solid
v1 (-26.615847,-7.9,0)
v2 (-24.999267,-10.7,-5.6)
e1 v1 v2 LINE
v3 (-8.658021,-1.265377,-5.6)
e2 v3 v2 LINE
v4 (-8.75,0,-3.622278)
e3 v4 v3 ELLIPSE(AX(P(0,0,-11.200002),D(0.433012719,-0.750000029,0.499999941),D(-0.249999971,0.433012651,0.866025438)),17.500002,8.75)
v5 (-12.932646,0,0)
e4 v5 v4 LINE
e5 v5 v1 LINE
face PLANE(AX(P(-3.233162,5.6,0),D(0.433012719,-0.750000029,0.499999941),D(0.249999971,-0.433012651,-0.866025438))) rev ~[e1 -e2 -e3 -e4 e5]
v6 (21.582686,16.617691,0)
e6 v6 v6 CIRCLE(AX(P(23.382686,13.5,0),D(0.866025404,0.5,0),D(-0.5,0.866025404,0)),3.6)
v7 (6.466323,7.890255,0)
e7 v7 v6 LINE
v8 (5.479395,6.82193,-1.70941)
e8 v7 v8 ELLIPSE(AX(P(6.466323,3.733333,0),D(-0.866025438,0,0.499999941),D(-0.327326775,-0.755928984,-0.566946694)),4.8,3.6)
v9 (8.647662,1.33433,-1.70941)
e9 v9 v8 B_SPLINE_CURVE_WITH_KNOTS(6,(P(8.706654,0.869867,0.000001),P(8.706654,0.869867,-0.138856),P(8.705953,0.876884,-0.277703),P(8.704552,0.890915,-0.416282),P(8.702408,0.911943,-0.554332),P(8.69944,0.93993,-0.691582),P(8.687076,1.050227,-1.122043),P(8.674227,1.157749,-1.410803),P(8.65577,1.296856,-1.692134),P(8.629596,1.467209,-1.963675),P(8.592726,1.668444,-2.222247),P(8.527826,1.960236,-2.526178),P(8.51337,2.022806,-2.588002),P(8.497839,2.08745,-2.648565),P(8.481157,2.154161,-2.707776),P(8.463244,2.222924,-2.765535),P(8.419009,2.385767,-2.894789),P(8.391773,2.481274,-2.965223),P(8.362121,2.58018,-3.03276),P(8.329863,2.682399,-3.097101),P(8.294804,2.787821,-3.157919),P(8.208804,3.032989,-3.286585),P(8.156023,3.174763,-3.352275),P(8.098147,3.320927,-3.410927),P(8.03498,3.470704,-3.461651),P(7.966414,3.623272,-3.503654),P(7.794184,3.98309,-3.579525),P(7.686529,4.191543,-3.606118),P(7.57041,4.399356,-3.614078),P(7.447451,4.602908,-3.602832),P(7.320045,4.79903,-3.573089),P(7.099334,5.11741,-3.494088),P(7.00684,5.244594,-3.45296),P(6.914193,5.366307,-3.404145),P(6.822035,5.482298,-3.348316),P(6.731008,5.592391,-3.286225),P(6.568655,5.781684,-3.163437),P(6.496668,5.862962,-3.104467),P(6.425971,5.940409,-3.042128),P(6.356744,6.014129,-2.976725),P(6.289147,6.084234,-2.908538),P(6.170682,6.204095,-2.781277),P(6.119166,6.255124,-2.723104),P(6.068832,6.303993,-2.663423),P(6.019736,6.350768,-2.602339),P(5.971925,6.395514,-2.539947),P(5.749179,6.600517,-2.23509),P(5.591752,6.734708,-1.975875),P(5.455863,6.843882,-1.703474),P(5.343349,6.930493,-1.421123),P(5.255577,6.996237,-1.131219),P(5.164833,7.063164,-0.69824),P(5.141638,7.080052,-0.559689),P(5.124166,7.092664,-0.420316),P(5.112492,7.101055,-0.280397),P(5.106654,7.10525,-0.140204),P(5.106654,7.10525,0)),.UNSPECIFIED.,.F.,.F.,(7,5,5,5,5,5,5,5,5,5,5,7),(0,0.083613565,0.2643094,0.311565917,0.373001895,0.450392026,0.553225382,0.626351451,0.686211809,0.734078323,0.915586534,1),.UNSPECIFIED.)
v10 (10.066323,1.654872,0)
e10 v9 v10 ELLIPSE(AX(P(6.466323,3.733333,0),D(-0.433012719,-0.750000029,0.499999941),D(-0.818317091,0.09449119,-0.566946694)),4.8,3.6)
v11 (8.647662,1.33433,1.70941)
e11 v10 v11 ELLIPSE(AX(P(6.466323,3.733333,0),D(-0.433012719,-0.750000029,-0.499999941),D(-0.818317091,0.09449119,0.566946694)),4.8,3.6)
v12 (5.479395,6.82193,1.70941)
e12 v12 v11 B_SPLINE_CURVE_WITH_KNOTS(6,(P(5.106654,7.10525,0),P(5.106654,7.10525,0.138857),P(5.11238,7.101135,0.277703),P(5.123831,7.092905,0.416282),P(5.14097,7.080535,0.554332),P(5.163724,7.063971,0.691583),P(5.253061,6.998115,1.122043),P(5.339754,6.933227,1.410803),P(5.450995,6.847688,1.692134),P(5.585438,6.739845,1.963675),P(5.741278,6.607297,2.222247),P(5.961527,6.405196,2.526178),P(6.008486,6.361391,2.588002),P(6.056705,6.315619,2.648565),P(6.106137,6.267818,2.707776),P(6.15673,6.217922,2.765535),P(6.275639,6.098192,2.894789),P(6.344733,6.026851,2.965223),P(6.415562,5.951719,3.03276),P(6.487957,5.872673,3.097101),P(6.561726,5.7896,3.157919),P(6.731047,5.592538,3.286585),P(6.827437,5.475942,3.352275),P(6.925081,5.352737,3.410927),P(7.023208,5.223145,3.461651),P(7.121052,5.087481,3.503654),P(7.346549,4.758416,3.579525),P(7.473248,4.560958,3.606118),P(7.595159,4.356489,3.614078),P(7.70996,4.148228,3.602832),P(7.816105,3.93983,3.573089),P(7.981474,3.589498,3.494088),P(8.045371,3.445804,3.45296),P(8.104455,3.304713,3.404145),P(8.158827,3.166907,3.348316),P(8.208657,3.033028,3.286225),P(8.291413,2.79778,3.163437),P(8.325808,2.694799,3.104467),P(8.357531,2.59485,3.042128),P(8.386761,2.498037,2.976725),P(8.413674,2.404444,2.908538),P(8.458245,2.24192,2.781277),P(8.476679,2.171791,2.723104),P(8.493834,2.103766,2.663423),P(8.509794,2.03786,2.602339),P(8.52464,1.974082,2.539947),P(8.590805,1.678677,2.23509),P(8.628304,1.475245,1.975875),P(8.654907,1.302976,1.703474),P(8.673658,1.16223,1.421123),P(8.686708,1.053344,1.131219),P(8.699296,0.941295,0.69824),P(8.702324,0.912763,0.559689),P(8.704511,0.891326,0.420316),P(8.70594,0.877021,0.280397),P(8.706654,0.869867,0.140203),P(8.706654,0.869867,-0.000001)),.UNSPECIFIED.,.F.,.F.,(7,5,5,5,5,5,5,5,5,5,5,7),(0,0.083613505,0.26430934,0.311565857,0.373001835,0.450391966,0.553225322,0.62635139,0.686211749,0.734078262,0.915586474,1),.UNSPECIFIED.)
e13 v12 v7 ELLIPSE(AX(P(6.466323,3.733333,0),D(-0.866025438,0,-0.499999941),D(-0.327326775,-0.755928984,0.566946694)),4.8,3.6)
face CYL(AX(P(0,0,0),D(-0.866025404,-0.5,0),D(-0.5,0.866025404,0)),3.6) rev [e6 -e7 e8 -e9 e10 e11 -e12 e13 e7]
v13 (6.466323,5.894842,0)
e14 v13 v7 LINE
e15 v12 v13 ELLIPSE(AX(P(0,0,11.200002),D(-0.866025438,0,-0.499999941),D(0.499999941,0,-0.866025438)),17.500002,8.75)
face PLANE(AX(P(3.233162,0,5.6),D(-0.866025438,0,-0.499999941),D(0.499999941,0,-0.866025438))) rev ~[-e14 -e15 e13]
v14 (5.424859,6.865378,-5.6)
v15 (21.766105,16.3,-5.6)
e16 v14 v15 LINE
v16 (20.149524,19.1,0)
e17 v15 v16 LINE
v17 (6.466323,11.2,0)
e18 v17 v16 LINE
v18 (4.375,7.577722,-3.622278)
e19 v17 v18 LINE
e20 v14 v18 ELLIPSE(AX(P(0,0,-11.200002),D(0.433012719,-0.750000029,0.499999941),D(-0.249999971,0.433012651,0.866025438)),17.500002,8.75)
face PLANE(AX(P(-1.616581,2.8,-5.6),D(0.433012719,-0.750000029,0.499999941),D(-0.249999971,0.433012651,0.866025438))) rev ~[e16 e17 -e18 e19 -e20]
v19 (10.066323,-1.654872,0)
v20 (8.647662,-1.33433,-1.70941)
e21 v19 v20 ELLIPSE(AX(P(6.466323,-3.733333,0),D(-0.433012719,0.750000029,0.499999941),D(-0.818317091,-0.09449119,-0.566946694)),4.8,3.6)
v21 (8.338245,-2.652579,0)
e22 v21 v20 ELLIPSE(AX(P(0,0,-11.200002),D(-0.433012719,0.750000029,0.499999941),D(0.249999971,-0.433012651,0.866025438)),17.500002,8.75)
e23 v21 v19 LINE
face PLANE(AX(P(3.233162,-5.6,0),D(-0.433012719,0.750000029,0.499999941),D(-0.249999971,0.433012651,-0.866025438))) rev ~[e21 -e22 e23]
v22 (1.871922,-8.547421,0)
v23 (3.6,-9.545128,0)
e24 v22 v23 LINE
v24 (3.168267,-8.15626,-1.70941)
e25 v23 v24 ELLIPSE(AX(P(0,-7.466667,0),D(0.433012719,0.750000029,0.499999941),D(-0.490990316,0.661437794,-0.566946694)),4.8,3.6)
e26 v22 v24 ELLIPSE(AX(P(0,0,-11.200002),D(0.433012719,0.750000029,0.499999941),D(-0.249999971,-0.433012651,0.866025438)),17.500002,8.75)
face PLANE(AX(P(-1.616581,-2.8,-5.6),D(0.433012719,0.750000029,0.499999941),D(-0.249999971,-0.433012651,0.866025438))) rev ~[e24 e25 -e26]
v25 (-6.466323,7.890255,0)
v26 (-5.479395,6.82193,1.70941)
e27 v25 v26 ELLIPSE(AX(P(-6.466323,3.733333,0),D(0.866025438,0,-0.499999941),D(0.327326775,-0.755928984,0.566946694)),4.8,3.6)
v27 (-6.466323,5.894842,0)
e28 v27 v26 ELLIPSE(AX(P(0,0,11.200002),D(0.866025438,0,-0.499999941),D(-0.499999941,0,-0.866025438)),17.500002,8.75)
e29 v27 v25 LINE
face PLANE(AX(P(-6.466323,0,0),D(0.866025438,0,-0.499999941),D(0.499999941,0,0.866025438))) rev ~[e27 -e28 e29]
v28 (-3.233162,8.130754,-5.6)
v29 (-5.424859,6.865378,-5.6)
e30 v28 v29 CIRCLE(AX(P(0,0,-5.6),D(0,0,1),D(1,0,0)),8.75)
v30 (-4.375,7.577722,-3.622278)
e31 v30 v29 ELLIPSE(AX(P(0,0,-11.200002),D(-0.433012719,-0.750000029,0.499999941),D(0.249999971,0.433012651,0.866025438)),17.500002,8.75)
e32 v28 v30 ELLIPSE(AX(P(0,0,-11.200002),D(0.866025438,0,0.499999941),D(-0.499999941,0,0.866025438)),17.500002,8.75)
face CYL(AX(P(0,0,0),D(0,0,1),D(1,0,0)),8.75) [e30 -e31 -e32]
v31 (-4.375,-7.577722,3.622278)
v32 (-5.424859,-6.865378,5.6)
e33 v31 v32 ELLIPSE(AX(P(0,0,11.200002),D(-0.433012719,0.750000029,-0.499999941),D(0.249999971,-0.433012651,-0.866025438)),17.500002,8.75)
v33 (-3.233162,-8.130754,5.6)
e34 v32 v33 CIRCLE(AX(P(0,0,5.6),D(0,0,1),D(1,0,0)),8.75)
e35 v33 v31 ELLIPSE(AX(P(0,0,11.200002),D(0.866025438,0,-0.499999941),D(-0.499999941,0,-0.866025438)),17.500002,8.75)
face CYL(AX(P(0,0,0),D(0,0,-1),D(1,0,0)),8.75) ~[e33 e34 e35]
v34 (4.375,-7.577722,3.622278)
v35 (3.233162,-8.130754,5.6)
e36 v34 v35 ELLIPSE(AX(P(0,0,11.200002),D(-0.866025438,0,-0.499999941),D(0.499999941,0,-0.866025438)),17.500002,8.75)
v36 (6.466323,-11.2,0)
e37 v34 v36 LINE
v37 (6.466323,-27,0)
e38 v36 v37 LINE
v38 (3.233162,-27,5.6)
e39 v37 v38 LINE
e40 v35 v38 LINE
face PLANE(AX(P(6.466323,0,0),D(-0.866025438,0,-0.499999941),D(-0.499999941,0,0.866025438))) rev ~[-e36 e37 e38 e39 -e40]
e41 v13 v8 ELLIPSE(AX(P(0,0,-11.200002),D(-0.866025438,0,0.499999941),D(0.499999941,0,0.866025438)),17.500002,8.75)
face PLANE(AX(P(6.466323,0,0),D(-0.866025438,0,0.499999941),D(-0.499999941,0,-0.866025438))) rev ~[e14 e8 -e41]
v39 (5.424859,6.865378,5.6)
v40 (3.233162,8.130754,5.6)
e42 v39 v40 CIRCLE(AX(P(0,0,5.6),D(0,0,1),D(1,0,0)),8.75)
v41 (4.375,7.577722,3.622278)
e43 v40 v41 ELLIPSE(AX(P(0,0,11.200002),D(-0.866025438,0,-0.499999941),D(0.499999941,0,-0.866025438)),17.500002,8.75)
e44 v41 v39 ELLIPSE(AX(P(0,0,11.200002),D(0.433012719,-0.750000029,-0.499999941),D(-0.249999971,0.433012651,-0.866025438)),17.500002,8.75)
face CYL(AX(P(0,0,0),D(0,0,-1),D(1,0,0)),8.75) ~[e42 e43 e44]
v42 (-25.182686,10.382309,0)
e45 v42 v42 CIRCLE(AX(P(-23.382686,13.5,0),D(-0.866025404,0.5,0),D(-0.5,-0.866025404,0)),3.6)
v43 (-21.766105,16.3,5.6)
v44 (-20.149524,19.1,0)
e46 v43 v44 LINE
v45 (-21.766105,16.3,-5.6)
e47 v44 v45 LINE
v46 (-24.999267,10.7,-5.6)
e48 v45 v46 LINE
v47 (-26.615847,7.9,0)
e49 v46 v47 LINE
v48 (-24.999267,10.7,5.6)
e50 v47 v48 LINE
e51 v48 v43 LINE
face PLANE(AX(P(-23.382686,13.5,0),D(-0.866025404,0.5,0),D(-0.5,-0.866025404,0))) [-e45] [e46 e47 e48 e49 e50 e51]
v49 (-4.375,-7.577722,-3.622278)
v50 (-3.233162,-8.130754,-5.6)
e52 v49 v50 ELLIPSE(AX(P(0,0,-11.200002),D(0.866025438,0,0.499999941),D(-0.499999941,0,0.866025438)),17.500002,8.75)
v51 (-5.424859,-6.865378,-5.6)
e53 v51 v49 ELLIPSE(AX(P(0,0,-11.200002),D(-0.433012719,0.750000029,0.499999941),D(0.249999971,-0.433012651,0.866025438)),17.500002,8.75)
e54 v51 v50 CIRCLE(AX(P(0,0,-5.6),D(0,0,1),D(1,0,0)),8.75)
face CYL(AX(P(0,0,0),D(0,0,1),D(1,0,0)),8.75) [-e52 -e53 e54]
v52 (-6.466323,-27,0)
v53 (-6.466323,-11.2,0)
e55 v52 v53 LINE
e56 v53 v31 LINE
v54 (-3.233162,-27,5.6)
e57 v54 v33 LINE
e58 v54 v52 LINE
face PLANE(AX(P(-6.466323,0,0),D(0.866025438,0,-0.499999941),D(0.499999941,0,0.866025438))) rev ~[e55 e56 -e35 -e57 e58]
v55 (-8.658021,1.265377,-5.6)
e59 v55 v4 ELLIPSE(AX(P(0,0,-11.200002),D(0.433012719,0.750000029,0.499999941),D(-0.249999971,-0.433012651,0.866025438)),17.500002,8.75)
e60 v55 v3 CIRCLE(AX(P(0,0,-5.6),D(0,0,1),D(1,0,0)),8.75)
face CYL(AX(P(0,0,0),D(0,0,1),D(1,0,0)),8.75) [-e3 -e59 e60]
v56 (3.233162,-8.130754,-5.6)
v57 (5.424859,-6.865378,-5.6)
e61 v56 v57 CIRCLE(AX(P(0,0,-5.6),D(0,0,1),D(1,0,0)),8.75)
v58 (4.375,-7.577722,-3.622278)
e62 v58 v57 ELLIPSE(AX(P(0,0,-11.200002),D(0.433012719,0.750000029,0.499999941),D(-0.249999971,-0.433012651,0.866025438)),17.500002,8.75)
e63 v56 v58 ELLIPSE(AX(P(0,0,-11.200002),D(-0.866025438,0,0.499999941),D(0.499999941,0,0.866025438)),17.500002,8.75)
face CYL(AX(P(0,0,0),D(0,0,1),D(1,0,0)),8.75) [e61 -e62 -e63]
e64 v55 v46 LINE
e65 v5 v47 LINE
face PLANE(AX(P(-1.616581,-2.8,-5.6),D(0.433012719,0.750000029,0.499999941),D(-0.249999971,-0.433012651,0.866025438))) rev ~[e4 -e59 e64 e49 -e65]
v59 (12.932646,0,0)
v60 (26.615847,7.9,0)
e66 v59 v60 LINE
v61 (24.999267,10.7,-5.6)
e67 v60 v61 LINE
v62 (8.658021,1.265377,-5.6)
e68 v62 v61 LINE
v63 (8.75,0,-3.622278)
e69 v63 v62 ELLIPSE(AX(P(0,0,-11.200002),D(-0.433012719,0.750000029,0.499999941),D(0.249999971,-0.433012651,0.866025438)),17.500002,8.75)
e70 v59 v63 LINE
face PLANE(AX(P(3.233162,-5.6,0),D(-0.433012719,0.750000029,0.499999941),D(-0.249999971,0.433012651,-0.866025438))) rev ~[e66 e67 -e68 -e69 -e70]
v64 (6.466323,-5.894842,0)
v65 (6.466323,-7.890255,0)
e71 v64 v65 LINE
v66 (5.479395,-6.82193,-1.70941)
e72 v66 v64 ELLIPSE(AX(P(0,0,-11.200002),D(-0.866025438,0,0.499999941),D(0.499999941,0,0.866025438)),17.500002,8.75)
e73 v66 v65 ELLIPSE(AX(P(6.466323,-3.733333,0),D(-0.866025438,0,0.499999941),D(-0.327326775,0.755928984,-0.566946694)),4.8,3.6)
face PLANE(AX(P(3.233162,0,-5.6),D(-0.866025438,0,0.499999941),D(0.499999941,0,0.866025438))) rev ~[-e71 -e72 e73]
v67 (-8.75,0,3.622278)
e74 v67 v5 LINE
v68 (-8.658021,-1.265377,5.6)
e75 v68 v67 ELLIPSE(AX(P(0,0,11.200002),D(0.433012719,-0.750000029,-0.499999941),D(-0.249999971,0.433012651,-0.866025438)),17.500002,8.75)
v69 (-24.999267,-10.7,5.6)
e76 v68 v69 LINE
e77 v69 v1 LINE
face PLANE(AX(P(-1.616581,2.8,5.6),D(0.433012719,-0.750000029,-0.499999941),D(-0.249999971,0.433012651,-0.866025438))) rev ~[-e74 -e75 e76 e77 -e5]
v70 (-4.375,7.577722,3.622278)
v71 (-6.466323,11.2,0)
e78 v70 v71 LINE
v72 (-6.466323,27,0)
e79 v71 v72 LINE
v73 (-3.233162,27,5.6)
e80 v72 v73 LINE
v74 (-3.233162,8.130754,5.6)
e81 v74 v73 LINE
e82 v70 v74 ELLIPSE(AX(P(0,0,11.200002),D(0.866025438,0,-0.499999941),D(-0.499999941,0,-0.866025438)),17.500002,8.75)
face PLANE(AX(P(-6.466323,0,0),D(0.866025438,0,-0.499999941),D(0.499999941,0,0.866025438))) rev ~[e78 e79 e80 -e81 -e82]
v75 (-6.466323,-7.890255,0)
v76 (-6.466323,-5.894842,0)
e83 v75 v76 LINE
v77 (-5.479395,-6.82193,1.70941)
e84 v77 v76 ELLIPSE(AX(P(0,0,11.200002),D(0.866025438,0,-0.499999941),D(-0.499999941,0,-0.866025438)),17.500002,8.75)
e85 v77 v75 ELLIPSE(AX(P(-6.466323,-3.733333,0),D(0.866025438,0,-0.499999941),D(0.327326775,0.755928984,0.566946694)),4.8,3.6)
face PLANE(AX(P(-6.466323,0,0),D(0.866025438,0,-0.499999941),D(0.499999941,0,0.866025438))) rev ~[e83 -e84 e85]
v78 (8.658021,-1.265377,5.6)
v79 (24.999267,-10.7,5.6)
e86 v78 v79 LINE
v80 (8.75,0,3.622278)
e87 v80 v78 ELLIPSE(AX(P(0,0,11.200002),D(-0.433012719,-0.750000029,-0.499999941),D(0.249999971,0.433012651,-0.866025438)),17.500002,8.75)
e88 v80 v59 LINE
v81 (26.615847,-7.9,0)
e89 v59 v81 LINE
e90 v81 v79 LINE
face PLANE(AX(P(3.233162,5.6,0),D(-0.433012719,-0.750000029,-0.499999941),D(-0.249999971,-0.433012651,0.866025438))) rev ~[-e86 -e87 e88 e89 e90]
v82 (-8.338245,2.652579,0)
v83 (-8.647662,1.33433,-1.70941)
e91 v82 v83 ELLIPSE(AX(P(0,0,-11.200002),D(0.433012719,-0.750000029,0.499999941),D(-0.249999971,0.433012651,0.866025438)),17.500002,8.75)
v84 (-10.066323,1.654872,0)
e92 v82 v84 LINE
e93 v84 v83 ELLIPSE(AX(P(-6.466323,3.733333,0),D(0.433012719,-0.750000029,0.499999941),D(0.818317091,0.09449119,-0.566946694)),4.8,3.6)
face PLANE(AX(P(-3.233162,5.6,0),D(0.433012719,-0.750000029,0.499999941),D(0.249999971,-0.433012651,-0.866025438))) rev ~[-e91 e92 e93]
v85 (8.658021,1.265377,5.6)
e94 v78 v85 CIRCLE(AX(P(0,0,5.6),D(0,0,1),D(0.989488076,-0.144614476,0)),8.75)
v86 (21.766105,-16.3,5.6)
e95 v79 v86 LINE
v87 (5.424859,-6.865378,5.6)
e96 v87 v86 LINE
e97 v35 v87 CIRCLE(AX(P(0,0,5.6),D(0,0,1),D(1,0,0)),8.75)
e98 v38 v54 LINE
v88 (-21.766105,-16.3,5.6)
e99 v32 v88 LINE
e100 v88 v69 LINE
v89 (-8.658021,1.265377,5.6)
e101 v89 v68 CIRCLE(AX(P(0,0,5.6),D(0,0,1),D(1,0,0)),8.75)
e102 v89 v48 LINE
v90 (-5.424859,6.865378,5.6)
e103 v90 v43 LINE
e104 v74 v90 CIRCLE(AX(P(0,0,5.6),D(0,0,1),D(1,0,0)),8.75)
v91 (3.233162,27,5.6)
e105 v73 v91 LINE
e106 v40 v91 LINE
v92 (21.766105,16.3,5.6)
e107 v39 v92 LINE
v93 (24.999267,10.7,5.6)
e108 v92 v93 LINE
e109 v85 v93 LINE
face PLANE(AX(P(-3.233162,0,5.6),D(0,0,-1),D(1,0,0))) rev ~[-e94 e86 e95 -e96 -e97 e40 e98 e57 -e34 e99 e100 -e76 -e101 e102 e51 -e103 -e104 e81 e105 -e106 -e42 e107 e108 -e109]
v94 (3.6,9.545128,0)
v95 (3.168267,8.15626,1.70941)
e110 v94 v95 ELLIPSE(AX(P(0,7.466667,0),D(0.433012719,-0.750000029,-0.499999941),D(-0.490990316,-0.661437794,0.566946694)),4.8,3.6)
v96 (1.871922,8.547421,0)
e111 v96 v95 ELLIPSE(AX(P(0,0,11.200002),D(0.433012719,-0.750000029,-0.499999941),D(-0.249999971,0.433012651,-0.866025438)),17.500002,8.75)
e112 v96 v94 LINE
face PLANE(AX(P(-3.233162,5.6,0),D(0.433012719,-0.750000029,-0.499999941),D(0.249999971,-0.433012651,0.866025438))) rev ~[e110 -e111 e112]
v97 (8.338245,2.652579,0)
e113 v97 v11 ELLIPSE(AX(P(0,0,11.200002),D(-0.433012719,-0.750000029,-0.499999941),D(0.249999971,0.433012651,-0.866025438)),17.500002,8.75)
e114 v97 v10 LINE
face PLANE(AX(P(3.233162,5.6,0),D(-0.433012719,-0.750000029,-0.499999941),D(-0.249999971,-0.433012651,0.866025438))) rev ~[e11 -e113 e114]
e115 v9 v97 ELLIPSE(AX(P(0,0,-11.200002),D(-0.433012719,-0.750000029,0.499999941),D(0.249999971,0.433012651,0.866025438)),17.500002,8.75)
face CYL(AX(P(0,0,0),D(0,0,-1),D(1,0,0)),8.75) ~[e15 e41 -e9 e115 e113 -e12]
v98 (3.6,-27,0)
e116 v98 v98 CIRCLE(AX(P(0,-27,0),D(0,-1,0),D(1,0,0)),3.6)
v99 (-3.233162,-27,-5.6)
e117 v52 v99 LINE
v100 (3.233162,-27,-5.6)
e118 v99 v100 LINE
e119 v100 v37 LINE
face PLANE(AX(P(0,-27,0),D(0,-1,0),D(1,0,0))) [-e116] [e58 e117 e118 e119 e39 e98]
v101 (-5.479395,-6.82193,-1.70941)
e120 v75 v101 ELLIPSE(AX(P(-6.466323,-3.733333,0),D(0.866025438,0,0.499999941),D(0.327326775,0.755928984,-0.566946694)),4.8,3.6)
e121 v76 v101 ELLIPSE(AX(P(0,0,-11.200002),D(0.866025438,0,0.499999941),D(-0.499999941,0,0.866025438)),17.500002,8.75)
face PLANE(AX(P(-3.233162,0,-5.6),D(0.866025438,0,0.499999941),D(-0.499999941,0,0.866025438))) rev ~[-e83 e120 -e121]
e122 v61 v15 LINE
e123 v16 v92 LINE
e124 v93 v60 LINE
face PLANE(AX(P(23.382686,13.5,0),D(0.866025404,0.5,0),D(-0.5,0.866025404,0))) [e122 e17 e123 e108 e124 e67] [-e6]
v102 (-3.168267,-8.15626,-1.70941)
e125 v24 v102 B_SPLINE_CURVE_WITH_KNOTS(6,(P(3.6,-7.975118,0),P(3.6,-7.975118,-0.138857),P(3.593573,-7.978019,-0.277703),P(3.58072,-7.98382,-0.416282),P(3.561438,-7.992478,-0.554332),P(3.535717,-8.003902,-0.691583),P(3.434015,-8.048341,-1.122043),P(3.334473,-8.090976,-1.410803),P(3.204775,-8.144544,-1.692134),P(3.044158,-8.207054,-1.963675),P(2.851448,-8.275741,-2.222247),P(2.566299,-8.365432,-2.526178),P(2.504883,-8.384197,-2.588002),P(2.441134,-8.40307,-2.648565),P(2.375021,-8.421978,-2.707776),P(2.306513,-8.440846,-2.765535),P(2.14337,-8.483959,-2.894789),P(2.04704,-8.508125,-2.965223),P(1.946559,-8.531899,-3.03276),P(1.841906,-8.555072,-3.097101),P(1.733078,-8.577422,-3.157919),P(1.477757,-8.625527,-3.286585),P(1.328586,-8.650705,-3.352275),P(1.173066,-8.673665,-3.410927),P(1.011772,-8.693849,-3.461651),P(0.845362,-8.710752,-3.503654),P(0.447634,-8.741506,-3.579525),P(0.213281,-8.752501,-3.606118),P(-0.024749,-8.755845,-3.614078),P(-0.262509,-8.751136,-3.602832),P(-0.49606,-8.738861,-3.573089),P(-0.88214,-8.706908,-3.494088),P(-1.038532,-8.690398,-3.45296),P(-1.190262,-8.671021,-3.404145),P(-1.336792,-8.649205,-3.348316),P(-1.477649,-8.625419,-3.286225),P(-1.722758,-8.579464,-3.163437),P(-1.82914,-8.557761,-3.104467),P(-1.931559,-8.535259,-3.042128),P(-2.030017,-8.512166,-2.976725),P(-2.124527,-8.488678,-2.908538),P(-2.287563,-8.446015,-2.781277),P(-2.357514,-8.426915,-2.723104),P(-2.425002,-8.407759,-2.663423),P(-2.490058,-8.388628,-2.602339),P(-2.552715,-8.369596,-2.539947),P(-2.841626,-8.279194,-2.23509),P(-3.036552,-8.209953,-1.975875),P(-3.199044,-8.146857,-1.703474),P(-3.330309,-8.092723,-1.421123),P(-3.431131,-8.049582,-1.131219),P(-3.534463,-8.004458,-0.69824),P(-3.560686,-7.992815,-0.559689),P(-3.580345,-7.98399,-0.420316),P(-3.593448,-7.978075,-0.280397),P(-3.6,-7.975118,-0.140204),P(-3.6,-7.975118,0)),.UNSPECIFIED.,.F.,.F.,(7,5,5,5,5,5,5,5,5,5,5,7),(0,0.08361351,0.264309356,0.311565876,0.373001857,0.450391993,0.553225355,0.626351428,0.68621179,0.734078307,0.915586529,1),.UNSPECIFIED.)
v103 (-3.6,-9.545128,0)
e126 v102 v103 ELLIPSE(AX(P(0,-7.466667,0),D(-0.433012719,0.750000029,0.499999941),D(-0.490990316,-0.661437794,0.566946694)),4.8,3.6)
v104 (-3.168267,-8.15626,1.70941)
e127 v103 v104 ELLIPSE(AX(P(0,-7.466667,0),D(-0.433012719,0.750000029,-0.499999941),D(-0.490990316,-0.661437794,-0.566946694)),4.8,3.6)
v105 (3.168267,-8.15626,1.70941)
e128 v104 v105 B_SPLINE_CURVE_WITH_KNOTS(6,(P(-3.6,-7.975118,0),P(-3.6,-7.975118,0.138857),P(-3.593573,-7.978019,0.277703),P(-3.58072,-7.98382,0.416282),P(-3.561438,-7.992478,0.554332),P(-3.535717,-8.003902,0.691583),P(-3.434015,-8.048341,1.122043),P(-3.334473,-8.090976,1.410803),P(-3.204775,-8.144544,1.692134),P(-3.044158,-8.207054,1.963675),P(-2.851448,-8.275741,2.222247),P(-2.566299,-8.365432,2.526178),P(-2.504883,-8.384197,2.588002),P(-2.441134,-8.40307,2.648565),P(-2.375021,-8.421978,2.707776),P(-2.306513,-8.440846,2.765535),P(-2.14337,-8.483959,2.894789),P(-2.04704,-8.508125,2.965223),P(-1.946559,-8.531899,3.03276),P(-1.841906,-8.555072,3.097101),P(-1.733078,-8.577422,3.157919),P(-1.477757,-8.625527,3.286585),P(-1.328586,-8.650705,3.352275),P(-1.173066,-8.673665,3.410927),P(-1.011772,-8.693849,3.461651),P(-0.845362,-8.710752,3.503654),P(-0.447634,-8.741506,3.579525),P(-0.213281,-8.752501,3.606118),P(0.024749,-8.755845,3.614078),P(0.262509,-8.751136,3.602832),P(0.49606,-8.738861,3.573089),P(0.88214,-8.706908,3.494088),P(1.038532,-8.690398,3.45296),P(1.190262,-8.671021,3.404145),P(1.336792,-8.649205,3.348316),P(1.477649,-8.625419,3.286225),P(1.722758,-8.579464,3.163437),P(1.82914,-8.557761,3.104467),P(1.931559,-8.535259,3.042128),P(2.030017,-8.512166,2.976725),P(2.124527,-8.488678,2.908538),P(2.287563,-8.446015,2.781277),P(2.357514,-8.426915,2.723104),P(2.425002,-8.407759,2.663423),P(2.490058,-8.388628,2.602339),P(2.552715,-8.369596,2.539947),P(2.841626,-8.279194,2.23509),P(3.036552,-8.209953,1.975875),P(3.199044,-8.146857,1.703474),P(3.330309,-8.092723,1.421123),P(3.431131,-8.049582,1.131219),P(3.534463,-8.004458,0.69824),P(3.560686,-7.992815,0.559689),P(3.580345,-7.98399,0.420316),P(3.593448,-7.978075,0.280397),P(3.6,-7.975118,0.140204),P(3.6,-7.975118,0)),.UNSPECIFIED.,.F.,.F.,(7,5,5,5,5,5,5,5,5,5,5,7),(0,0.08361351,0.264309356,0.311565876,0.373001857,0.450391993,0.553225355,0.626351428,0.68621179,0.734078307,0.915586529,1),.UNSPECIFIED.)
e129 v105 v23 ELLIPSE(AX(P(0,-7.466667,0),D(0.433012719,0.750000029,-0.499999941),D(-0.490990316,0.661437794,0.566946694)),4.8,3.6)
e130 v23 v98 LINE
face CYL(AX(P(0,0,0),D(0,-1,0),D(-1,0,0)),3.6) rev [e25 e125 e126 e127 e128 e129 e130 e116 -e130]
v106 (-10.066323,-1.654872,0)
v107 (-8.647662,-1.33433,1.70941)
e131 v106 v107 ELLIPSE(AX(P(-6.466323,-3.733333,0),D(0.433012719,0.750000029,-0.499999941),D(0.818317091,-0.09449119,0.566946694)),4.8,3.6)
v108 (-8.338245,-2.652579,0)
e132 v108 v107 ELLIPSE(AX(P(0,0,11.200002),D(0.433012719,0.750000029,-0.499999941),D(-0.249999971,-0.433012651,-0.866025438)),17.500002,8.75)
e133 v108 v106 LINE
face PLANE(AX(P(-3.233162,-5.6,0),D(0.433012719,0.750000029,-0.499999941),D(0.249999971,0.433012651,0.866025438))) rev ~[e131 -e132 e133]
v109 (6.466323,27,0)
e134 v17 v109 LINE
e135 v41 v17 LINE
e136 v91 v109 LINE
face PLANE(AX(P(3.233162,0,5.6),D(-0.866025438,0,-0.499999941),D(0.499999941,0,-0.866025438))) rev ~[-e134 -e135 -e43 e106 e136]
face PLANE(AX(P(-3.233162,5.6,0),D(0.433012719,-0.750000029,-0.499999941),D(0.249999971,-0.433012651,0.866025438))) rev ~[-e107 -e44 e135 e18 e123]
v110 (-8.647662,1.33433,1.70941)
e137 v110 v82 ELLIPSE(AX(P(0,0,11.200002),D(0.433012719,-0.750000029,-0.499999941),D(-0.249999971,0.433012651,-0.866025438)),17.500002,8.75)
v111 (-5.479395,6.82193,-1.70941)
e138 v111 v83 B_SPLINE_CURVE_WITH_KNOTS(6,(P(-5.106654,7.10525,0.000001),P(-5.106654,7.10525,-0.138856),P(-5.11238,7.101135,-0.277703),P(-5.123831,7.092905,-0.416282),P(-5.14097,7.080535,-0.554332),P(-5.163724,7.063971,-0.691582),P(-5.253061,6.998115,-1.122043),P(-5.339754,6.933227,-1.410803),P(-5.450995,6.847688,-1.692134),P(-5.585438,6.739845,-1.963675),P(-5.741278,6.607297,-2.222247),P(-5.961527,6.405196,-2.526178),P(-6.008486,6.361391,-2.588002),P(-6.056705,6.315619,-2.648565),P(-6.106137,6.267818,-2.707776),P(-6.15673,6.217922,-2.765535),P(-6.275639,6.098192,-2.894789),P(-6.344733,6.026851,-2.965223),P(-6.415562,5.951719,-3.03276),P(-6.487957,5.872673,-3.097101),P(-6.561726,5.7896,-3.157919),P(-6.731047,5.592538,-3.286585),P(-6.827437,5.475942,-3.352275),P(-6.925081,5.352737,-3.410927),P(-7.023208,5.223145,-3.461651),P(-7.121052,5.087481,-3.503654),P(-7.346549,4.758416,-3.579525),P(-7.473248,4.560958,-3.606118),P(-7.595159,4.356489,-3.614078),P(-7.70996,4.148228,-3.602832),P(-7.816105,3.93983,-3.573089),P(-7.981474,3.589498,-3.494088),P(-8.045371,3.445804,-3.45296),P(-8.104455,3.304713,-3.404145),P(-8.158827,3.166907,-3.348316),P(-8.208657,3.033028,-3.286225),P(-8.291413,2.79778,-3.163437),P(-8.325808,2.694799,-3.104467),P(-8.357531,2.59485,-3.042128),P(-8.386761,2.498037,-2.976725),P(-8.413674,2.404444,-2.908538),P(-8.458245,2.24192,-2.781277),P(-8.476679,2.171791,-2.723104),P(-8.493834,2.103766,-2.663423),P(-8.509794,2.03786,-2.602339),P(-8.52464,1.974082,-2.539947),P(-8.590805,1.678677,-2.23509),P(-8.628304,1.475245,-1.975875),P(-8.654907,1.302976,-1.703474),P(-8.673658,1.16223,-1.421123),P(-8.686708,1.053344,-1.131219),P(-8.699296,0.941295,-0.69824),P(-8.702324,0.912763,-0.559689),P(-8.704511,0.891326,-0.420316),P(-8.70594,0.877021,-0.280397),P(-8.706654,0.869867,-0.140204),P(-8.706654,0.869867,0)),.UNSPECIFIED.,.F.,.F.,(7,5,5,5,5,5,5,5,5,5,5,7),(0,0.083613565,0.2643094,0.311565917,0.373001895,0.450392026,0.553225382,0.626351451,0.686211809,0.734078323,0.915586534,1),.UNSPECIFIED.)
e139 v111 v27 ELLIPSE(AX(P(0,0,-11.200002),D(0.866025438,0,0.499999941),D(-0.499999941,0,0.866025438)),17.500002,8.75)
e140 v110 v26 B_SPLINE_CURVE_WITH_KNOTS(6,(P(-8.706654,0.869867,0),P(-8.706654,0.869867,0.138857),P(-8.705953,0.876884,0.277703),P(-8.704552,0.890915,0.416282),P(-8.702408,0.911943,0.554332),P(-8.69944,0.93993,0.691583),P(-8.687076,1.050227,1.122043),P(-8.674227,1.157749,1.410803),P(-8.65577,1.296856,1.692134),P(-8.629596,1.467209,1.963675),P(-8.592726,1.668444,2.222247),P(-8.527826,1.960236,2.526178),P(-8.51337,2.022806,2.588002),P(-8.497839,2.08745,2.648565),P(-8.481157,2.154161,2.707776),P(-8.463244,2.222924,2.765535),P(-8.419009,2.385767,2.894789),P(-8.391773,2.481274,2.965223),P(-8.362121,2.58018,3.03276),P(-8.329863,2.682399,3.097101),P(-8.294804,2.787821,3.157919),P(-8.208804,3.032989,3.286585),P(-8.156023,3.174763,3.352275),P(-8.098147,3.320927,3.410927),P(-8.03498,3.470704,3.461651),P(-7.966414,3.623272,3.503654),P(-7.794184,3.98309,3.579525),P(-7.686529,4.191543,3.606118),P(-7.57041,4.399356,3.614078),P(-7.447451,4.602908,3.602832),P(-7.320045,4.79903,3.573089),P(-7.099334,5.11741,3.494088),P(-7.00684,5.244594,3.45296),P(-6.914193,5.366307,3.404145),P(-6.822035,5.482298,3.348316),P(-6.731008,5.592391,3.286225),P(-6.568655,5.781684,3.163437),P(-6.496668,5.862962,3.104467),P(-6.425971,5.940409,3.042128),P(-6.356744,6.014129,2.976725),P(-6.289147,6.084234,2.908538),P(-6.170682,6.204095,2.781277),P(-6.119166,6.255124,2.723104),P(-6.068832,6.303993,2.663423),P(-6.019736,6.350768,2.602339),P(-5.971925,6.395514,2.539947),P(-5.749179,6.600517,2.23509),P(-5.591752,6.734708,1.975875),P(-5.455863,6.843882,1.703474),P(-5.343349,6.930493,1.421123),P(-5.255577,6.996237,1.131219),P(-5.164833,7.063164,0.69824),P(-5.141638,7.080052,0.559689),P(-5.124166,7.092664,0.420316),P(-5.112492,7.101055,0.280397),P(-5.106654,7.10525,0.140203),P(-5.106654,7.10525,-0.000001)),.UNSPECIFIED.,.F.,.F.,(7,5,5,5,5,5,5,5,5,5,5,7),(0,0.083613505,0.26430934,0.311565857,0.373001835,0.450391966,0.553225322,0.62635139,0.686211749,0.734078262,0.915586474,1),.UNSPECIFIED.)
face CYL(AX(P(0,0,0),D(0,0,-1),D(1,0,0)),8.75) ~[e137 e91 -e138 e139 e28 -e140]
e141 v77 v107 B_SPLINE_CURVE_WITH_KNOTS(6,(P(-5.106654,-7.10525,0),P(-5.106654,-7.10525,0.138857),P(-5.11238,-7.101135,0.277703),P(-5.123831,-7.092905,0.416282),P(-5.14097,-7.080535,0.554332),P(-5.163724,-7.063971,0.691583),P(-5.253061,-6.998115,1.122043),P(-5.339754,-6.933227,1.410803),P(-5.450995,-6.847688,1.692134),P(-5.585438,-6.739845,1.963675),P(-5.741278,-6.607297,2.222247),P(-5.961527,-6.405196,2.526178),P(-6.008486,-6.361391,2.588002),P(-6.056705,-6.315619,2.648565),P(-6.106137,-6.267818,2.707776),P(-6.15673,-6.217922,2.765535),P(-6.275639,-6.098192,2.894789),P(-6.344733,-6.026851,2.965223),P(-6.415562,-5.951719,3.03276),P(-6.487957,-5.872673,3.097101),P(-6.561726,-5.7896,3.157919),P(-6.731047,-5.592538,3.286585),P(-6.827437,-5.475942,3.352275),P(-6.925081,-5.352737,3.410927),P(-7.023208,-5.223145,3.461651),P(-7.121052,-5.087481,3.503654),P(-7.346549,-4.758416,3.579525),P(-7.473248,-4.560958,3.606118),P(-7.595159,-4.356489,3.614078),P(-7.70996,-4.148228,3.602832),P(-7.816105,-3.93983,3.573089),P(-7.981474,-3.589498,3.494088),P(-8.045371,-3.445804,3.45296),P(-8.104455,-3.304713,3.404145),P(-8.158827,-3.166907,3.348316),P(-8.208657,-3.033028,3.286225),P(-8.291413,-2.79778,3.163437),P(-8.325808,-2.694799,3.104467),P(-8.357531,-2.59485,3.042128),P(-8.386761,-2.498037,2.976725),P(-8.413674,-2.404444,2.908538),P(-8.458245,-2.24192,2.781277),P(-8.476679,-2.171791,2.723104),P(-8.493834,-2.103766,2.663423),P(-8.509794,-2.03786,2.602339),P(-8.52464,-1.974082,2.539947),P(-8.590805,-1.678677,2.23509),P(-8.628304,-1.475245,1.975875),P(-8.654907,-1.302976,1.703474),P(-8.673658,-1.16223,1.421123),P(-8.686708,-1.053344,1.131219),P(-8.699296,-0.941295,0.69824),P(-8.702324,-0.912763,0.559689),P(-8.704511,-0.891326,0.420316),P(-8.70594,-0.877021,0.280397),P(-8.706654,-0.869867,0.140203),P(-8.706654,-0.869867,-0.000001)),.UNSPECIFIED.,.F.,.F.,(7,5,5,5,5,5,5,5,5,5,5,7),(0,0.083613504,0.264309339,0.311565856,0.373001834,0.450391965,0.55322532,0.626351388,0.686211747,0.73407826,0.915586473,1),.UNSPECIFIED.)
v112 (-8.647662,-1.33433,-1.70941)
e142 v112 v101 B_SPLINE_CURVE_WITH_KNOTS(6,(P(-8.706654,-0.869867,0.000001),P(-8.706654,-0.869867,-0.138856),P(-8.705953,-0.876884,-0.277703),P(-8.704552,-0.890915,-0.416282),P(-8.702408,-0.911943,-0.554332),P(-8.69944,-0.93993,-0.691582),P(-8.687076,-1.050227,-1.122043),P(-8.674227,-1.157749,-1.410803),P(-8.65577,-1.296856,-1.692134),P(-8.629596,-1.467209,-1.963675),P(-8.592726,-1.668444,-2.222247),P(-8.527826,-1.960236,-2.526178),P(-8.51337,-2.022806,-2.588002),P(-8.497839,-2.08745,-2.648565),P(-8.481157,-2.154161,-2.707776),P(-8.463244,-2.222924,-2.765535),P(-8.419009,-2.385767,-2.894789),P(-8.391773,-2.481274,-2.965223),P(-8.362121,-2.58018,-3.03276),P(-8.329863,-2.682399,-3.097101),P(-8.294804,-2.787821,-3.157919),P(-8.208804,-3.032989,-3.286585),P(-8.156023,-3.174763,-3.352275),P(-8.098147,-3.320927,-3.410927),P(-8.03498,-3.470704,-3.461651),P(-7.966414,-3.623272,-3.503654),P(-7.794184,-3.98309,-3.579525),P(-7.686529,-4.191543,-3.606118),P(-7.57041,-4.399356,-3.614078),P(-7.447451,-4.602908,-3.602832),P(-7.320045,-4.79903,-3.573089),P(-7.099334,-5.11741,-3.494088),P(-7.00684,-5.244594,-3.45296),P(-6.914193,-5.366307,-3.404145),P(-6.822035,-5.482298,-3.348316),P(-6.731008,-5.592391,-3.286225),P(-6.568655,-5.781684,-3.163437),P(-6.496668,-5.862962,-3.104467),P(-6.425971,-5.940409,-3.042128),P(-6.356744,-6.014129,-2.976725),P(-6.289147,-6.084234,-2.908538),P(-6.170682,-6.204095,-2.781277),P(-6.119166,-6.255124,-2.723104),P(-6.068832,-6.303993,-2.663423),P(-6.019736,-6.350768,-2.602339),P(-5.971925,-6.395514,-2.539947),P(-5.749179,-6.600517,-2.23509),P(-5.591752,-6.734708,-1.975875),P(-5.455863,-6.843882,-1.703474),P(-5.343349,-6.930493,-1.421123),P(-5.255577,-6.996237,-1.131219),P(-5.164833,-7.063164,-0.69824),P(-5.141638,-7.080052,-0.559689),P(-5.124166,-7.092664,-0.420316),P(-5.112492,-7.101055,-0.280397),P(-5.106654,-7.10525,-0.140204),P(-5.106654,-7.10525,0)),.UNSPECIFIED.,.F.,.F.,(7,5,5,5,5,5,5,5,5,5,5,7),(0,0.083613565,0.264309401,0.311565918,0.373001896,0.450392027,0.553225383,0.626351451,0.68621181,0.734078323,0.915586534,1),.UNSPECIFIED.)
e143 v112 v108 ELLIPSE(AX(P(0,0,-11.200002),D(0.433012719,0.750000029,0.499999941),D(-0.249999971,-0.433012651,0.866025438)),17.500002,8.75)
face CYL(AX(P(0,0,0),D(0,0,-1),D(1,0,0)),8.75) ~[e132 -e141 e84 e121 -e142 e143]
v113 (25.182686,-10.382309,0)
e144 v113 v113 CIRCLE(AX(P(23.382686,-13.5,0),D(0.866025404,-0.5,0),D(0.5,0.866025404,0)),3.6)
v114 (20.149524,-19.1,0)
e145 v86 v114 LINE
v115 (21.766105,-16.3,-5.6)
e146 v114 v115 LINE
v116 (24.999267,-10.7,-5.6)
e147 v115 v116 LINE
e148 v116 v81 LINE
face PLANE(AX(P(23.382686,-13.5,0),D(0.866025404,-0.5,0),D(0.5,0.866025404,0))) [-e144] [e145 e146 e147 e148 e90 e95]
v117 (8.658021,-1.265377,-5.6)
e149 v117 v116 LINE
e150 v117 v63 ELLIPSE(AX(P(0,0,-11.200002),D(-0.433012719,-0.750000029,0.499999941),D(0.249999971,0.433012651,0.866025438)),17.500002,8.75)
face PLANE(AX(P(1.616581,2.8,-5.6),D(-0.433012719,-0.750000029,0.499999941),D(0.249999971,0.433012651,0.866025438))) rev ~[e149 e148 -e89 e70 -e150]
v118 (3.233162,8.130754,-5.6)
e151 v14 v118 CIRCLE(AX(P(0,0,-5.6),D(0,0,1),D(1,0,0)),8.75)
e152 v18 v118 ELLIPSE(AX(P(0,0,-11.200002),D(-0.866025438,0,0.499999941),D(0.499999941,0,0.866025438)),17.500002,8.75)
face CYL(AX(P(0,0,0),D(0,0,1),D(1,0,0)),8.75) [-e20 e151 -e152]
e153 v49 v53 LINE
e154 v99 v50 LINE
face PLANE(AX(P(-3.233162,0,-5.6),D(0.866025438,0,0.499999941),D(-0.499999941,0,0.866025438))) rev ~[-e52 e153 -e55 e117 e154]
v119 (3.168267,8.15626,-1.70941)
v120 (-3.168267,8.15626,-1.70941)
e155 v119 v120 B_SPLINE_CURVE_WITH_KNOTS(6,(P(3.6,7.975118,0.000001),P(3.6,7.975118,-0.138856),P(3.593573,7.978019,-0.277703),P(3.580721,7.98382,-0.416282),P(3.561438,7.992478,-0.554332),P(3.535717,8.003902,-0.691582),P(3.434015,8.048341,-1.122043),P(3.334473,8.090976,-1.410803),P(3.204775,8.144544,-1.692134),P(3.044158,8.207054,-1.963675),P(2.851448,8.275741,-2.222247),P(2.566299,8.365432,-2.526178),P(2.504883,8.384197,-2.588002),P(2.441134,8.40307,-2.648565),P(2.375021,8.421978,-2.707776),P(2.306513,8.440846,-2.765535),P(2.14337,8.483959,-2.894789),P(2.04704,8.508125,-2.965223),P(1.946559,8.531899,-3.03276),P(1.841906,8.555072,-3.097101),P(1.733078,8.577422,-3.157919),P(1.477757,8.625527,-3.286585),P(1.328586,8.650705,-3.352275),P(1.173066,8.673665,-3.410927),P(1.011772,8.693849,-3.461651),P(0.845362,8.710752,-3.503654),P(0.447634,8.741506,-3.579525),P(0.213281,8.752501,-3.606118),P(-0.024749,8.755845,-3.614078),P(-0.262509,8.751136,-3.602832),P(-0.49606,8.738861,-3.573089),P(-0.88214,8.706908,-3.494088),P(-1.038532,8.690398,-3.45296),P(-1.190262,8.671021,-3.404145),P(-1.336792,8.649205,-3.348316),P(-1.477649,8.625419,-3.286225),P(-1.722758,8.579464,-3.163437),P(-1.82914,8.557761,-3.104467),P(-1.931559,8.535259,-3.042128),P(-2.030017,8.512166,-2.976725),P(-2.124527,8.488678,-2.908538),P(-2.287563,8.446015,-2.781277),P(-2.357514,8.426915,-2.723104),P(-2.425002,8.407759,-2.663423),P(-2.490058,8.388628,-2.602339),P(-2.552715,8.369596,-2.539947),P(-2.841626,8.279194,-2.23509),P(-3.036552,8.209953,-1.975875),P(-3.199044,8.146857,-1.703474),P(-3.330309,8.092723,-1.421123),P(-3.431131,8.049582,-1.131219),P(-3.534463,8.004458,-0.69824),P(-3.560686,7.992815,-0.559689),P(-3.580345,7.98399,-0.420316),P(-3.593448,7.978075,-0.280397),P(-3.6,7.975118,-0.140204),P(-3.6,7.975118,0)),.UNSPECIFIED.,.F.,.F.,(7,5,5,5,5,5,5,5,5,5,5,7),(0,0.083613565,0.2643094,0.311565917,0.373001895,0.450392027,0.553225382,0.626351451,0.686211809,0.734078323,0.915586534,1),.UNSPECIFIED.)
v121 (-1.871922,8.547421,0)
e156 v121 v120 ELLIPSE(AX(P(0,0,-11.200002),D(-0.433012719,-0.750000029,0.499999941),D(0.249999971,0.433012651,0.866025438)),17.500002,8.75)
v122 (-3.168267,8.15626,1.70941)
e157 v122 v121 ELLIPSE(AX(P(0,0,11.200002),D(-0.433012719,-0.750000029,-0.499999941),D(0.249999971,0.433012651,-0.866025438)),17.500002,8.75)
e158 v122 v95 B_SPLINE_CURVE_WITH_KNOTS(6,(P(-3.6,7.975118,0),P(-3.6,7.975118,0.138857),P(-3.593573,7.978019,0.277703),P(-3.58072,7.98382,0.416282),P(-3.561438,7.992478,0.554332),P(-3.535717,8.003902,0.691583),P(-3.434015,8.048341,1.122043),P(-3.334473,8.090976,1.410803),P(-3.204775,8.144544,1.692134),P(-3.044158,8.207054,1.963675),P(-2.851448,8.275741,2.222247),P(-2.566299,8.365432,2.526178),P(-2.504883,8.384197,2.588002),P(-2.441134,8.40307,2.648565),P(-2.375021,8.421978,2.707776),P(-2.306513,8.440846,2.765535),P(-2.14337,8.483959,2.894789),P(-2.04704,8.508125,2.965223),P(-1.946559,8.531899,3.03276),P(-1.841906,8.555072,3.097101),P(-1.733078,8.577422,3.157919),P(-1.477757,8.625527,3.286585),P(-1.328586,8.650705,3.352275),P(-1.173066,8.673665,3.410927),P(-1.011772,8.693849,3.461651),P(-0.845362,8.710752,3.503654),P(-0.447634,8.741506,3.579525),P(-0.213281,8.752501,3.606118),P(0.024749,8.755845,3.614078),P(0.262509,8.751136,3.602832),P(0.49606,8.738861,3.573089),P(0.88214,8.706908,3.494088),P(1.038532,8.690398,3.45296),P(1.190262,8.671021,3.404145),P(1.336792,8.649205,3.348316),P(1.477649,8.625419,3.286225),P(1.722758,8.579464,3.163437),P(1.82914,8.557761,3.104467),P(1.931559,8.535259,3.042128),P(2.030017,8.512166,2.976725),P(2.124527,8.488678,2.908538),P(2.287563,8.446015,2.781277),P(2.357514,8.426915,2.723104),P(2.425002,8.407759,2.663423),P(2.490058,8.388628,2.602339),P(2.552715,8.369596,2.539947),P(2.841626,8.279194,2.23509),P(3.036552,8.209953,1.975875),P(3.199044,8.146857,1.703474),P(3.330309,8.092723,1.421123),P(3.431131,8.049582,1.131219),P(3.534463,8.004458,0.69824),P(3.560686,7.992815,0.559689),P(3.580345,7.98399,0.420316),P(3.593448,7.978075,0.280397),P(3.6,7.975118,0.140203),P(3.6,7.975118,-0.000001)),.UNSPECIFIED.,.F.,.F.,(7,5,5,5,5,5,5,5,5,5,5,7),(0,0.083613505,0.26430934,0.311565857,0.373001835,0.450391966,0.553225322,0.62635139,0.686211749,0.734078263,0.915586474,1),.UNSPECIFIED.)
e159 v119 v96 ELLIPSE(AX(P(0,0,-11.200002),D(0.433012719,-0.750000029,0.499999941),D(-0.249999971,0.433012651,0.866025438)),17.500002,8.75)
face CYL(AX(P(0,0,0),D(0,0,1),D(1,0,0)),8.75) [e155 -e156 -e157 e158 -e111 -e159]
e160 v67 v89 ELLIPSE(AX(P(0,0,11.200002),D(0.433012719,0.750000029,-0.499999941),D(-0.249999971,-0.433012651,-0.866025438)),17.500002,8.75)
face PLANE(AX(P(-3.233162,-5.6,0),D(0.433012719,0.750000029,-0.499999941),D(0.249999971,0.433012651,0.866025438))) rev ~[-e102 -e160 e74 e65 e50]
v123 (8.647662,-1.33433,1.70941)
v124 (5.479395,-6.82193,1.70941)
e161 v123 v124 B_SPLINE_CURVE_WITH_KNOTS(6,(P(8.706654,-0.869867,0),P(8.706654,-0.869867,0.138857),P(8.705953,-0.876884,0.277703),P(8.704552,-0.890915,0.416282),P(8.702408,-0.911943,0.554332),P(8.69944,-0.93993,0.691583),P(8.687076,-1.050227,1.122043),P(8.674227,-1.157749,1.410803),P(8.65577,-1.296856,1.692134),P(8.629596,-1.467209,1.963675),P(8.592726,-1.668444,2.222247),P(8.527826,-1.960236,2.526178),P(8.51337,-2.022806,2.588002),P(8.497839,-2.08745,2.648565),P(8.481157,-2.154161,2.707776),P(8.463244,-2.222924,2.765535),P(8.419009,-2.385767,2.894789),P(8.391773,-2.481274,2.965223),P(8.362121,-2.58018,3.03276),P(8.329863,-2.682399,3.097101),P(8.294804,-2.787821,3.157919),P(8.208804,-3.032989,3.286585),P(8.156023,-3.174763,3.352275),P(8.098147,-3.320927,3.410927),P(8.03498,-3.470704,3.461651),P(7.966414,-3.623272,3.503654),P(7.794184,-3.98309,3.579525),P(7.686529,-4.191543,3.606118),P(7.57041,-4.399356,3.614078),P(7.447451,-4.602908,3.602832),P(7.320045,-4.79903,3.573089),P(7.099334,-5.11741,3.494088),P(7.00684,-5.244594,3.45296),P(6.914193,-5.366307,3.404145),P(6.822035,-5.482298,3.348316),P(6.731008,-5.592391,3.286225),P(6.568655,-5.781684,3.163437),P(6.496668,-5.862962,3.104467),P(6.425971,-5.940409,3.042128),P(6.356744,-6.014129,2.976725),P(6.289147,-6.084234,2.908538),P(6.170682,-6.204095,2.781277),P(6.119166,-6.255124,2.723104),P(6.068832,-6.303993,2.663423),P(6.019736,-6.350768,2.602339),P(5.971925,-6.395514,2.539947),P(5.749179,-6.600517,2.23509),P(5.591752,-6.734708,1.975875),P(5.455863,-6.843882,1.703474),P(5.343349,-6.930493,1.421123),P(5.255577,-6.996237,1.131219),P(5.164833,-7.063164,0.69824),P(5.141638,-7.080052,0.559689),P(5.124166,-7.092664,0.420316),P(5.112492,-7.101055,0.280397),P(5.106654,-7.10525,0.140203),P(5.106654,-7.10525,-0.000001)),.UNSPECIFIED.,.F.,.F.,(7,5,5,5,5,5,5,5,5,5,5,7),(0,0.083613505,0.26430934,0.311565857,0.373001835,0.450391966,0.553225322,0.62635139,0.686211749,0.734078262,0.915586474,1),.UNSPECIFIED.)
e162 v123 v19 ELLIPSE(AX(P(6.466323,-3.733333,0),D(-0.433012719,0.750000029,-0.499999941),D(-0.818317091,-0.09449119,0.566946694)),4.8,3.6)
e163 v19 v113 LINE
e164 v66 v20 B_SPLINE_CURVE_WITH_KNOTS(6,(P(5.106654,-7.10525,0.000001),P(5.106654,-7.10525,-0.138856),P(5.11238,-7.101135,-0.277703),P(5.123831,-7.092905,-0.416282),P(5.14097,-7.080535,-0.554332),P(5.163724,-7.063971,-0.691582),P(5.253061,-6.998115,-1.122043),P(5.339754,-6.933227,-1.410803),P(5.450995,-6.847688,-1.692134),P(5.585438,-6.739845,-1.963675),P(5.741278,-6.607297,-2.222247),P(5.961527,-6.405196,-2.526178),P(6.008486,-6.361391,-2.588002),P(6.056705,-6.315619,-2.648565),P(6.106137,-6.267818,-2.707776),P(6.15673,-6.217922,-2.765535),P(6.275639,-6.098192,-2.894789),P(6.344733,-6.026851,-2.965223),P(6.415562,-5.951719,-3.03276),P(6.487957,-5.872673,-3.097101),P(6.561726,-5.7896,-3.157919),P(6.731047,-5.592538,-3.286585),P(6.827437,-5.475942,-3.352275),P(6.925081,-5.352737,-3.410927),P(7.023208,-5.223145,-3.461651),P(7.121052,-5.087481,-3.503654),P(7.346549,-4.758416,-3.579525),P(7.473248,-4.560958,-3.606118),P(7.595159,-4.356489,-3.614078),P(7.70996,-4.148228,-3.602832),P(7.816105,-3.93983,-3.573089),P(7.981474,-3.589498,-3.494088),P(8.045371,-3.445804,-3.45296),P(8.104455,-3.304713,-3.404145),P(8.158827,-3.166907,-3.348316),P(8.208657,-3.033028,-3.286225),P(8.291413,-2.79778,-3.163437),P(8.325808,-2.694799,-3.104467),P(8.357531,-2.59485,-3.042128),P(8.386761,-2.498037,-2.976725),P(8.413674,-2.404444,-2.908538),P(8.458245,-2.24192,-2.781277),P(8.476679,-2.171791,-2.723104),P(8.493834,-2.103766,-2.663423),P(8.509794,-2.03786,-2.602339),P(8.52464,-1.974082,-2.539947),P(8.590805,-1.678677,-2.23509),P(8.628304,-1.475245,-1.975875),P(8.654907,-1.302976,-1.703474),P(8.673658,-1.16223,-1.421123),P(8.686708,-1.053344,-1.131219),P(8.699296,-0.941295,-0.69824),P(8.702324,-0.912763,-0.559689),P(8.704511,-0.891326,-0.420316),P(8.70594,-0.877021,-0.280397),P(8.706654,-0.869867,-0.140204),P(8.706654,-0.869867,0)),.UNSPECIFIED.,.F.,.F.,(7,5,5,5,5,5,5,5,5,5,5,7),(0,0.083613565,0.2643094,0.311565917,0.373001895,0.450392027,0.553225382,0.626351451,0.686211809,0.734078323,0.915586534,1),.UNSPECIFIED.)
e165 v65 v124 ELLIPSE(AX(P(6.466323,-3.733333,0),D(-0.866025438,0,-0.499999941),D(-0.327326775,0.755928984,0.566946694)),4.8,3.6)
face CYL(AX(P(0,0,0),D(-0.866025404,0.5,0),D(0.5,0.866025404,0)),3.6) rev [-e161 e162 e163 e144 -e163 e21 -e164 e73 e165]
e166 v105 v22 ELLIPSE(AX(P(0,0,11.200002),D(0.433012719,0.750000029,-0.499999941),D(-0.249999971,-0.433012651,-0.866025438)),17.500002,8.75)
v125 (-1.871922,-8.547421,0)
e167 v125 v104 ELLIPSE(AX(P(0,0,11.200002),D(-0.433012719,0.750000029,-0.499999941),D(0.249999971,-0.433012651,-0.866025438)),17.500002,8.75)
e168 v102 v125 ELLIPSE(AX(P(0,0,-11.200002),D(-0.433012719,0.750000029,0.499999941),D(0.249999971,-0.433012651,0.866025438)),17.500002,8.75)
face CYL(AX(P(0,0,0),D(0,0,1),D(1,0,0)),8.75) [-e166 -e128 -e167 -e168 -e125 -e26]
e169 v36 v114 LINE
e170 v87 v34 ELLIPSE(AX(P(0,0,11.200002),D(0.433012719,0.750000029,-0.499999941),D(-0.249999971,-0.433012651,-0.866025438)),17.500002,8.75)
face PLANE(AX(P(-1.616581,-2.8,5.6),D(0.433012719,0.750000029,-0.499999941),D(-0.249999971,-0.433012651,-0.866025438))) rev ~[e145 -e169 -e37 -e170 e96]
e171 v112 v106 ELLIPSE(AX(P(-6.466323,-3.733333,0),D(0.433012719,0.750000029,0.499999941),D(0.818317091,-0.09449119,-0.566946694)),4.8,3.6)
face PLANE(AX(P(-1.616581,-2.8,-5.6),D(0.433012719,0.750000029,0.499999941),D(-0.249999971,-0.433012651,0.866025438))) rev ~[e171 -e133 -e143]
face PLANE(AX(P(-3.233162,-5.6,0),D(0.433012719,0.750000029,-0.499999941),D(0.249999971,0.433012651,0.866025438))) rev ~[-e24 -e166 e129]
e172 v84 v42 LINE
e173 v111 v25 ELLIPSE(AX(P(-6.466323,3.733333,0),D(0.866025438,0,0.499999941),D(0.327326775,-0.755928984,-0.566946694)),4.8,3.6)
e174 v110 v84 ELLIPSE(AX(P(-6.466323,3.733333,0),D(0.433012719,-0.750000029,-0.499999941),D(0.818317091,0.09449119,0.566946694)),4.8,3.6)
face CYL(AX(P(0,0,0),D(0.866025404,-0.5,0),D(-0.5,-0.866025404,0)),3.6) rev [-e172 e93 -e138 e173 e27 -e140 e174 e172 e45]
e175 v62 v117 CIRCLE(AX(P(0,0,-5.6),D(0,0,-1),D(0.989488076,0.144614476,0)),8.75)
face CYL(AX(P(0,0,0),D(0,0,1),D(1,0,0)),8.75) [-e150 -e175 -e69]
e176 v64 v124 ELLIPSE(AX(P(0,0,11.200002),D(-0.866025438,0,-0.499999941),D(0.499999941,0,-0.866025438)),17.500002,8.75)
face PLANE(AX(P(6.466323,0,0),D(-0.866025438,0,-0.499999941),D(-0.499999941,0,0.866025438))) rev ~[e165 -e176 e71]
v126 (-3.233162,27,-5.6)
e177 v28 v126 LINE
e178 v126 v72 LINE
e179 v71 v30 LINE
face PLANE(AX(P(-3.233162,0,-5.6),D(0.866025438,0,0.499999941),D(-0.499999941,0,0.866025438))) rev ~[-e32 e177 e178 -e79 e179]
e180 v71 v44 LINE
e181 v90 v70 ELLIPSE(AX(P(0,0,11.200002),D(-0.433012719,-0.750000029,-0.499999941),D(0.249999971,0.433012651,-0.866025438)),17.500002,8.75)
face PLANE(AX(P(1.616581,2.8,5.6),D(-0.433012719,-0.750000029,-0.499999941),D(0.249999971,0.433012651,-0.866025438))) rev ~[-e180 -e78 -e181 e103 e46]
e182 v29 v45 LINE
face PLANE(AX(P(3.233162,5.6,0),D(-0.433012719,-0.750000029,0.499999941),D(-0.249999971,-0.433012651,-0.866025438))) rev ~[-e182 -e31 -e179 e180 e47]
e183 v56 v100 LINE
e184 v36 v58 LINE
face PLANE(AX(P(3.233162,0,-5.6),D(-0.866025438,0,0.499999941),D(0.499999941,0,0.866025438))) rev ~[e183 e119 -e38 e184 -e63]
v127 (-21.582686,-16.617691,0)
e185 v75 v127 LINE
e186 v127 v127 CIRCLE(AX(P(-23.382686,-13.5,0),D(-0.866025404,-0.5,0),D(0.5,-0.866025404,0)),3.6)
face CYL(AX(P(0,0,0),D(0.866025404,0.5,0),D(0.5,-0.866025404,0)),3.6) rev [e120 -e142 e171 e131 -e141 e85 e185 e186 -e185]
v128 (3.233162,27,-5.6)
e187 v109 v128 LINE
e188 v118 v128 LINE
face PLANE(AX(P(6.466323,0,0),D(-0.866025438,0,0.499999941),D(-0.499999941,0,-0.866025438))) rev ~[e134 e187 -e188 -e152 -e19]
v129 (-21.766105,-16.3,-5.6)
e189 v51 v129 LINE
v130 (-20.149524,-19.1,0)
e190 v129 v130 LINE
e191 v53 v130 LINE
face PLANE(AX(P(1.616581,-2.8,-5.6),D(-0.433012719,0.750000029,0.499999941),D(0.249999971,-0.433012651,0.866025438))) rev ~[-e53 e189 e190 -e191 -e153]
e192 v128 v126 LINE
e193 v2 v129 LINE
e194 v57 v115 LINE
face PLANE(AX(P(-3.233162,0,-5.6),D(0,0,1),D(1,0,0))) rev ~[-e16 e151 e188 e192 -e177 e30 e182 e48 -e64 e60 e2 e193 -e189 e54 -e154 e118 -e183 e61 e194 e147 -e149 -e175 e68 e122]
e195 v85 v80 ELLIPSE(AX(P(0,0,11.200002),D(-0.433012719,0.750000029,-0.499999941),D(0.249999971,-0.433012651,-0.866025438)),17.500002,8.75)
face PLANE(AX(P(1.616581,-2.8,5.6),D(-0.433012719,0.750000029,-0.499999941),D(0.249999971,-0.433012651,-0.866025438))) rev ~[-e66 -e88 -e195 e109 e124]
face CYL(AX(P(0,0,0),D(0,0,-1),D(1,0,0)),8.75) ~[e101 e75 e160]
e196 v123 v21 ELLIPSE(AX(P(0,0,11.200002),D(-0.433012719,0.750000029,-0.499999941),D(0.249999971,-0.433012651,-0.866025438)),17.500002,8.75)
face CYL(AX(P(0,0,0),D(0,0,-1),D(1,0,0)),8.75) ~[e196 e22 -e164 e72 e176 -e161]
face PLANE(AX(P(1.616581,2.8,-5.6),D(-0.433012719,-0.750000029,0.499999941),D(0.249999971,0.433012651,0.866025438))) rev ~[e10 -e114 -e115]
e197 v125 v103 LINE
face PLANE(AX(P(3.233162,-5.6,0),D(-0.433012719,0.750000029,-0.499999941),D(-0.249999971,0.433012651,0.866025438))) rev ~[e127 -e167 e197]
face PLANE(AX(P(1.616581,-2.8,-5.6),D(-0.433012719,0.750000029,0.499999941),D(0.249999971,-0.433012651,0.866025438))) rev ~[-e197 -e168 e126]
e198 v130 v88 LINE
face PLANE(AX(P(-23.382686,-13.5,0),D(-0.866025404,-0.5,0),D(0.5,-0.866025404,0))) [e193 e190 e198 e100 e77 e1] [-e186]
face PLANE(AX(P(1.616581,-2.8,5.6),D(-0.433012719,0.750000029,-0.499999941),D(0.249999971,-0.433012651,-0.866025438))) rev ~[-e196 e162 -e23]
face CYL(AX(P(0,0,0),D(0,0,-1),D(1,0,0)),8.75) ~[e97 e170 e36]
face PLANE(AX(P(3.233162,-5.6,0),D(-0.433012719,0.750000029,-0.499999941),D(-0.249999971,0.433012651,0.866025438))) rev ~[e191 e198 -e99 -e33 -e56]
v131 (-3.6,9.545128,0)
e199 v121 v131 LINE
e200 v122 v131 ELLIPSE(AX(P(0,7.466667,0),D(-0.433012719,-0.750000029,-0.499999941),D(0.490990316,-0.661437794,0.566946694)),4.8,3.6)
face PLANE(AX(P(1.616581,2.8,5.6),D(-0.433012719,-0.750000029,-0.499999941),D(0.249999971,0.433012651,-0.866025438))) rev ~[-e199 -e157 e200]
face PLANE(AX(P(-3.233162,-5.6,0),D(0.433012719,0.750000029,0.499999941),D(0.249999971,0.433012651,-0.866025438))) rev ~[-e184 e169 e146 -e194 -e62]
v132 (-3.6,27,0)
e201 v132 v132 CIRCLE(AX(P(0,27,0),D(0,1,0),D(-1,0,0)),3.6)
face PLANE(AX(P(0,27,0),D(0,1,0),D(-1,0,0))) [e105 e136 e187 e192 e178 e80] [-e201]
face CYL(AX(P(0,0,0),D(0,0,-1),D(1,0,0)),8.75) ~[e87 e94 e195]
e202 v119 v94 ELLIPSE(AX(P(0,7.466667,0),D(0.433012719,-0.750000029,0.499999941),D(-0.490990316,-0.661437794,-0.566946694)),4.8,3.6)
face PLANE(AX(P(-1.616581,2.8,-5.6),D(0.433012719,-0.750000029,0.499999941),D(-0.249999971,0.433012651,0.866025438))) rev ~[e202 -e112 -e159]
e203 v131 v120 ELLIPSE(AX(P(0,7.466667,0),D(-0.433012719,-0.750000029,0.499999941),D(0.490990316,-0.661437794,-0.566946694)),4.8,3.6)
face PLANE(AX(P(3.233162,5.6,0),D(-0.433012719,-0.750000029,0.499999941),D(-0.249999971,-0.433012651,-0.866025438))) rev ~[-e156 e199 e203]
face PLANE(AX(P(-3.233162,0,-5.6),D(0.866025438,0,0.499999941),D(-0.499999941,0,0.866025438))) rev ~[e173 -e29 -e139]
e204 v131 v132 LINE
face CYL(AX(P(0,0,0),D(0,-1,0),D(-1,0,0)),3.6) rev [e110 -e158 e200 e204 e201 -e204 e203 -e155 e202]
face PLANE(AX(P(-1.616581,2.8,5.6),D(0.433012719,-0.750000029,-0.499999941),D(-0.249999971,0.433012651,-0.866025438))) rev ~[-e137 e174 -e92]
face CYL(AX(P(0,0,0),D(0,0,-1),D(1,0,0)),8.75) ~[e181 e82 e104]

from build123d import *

# Parameters (mm, degrees)
F0_R          = 3.6
F1_DEPTH      = 27
F2_COUNT      = 6
F3_R          = 8.75
F4_DEPTH      = 5.6
F4_DEPTH_BACK = 5.6


with BuildPart() as f1:
    # F0 (on Front) → F1 (new body)
    with BuildSketch(Plane.XZ):
        Polygon((-3.233162, -5.6), (3.233162, -5.6), (6.466323, 0), (3.233162, 5.6), (-3.233162, 5.6), (-6.466323, 0), align=None)
        Circle(F0_R, mode=Mode.SUBTRACT)
    extrude(amount=F1_DEPTH)

    # F2: F1 ×6 about axis
    f2_axis = Axis((0, 0, 14.441719), (0, 0, 1))


with BuildPart() as f1_1:
    add(f1.part)
    for i in range(1, F2_COUNT):
        add(f1.part.rotate(f2_axis, i * 360 / F2_COUNT))

    # F3 (on Top) → F4 (join, two sides)
    with BuildSketch(Plane.XY) as f4_sk:
        Circle(F3_R)
    extrude(amount=F4_DEPTH)
    extrude(f4_sk.sketch, amount=-F4_DEPTH_BACK)


solid = f1_1.part
